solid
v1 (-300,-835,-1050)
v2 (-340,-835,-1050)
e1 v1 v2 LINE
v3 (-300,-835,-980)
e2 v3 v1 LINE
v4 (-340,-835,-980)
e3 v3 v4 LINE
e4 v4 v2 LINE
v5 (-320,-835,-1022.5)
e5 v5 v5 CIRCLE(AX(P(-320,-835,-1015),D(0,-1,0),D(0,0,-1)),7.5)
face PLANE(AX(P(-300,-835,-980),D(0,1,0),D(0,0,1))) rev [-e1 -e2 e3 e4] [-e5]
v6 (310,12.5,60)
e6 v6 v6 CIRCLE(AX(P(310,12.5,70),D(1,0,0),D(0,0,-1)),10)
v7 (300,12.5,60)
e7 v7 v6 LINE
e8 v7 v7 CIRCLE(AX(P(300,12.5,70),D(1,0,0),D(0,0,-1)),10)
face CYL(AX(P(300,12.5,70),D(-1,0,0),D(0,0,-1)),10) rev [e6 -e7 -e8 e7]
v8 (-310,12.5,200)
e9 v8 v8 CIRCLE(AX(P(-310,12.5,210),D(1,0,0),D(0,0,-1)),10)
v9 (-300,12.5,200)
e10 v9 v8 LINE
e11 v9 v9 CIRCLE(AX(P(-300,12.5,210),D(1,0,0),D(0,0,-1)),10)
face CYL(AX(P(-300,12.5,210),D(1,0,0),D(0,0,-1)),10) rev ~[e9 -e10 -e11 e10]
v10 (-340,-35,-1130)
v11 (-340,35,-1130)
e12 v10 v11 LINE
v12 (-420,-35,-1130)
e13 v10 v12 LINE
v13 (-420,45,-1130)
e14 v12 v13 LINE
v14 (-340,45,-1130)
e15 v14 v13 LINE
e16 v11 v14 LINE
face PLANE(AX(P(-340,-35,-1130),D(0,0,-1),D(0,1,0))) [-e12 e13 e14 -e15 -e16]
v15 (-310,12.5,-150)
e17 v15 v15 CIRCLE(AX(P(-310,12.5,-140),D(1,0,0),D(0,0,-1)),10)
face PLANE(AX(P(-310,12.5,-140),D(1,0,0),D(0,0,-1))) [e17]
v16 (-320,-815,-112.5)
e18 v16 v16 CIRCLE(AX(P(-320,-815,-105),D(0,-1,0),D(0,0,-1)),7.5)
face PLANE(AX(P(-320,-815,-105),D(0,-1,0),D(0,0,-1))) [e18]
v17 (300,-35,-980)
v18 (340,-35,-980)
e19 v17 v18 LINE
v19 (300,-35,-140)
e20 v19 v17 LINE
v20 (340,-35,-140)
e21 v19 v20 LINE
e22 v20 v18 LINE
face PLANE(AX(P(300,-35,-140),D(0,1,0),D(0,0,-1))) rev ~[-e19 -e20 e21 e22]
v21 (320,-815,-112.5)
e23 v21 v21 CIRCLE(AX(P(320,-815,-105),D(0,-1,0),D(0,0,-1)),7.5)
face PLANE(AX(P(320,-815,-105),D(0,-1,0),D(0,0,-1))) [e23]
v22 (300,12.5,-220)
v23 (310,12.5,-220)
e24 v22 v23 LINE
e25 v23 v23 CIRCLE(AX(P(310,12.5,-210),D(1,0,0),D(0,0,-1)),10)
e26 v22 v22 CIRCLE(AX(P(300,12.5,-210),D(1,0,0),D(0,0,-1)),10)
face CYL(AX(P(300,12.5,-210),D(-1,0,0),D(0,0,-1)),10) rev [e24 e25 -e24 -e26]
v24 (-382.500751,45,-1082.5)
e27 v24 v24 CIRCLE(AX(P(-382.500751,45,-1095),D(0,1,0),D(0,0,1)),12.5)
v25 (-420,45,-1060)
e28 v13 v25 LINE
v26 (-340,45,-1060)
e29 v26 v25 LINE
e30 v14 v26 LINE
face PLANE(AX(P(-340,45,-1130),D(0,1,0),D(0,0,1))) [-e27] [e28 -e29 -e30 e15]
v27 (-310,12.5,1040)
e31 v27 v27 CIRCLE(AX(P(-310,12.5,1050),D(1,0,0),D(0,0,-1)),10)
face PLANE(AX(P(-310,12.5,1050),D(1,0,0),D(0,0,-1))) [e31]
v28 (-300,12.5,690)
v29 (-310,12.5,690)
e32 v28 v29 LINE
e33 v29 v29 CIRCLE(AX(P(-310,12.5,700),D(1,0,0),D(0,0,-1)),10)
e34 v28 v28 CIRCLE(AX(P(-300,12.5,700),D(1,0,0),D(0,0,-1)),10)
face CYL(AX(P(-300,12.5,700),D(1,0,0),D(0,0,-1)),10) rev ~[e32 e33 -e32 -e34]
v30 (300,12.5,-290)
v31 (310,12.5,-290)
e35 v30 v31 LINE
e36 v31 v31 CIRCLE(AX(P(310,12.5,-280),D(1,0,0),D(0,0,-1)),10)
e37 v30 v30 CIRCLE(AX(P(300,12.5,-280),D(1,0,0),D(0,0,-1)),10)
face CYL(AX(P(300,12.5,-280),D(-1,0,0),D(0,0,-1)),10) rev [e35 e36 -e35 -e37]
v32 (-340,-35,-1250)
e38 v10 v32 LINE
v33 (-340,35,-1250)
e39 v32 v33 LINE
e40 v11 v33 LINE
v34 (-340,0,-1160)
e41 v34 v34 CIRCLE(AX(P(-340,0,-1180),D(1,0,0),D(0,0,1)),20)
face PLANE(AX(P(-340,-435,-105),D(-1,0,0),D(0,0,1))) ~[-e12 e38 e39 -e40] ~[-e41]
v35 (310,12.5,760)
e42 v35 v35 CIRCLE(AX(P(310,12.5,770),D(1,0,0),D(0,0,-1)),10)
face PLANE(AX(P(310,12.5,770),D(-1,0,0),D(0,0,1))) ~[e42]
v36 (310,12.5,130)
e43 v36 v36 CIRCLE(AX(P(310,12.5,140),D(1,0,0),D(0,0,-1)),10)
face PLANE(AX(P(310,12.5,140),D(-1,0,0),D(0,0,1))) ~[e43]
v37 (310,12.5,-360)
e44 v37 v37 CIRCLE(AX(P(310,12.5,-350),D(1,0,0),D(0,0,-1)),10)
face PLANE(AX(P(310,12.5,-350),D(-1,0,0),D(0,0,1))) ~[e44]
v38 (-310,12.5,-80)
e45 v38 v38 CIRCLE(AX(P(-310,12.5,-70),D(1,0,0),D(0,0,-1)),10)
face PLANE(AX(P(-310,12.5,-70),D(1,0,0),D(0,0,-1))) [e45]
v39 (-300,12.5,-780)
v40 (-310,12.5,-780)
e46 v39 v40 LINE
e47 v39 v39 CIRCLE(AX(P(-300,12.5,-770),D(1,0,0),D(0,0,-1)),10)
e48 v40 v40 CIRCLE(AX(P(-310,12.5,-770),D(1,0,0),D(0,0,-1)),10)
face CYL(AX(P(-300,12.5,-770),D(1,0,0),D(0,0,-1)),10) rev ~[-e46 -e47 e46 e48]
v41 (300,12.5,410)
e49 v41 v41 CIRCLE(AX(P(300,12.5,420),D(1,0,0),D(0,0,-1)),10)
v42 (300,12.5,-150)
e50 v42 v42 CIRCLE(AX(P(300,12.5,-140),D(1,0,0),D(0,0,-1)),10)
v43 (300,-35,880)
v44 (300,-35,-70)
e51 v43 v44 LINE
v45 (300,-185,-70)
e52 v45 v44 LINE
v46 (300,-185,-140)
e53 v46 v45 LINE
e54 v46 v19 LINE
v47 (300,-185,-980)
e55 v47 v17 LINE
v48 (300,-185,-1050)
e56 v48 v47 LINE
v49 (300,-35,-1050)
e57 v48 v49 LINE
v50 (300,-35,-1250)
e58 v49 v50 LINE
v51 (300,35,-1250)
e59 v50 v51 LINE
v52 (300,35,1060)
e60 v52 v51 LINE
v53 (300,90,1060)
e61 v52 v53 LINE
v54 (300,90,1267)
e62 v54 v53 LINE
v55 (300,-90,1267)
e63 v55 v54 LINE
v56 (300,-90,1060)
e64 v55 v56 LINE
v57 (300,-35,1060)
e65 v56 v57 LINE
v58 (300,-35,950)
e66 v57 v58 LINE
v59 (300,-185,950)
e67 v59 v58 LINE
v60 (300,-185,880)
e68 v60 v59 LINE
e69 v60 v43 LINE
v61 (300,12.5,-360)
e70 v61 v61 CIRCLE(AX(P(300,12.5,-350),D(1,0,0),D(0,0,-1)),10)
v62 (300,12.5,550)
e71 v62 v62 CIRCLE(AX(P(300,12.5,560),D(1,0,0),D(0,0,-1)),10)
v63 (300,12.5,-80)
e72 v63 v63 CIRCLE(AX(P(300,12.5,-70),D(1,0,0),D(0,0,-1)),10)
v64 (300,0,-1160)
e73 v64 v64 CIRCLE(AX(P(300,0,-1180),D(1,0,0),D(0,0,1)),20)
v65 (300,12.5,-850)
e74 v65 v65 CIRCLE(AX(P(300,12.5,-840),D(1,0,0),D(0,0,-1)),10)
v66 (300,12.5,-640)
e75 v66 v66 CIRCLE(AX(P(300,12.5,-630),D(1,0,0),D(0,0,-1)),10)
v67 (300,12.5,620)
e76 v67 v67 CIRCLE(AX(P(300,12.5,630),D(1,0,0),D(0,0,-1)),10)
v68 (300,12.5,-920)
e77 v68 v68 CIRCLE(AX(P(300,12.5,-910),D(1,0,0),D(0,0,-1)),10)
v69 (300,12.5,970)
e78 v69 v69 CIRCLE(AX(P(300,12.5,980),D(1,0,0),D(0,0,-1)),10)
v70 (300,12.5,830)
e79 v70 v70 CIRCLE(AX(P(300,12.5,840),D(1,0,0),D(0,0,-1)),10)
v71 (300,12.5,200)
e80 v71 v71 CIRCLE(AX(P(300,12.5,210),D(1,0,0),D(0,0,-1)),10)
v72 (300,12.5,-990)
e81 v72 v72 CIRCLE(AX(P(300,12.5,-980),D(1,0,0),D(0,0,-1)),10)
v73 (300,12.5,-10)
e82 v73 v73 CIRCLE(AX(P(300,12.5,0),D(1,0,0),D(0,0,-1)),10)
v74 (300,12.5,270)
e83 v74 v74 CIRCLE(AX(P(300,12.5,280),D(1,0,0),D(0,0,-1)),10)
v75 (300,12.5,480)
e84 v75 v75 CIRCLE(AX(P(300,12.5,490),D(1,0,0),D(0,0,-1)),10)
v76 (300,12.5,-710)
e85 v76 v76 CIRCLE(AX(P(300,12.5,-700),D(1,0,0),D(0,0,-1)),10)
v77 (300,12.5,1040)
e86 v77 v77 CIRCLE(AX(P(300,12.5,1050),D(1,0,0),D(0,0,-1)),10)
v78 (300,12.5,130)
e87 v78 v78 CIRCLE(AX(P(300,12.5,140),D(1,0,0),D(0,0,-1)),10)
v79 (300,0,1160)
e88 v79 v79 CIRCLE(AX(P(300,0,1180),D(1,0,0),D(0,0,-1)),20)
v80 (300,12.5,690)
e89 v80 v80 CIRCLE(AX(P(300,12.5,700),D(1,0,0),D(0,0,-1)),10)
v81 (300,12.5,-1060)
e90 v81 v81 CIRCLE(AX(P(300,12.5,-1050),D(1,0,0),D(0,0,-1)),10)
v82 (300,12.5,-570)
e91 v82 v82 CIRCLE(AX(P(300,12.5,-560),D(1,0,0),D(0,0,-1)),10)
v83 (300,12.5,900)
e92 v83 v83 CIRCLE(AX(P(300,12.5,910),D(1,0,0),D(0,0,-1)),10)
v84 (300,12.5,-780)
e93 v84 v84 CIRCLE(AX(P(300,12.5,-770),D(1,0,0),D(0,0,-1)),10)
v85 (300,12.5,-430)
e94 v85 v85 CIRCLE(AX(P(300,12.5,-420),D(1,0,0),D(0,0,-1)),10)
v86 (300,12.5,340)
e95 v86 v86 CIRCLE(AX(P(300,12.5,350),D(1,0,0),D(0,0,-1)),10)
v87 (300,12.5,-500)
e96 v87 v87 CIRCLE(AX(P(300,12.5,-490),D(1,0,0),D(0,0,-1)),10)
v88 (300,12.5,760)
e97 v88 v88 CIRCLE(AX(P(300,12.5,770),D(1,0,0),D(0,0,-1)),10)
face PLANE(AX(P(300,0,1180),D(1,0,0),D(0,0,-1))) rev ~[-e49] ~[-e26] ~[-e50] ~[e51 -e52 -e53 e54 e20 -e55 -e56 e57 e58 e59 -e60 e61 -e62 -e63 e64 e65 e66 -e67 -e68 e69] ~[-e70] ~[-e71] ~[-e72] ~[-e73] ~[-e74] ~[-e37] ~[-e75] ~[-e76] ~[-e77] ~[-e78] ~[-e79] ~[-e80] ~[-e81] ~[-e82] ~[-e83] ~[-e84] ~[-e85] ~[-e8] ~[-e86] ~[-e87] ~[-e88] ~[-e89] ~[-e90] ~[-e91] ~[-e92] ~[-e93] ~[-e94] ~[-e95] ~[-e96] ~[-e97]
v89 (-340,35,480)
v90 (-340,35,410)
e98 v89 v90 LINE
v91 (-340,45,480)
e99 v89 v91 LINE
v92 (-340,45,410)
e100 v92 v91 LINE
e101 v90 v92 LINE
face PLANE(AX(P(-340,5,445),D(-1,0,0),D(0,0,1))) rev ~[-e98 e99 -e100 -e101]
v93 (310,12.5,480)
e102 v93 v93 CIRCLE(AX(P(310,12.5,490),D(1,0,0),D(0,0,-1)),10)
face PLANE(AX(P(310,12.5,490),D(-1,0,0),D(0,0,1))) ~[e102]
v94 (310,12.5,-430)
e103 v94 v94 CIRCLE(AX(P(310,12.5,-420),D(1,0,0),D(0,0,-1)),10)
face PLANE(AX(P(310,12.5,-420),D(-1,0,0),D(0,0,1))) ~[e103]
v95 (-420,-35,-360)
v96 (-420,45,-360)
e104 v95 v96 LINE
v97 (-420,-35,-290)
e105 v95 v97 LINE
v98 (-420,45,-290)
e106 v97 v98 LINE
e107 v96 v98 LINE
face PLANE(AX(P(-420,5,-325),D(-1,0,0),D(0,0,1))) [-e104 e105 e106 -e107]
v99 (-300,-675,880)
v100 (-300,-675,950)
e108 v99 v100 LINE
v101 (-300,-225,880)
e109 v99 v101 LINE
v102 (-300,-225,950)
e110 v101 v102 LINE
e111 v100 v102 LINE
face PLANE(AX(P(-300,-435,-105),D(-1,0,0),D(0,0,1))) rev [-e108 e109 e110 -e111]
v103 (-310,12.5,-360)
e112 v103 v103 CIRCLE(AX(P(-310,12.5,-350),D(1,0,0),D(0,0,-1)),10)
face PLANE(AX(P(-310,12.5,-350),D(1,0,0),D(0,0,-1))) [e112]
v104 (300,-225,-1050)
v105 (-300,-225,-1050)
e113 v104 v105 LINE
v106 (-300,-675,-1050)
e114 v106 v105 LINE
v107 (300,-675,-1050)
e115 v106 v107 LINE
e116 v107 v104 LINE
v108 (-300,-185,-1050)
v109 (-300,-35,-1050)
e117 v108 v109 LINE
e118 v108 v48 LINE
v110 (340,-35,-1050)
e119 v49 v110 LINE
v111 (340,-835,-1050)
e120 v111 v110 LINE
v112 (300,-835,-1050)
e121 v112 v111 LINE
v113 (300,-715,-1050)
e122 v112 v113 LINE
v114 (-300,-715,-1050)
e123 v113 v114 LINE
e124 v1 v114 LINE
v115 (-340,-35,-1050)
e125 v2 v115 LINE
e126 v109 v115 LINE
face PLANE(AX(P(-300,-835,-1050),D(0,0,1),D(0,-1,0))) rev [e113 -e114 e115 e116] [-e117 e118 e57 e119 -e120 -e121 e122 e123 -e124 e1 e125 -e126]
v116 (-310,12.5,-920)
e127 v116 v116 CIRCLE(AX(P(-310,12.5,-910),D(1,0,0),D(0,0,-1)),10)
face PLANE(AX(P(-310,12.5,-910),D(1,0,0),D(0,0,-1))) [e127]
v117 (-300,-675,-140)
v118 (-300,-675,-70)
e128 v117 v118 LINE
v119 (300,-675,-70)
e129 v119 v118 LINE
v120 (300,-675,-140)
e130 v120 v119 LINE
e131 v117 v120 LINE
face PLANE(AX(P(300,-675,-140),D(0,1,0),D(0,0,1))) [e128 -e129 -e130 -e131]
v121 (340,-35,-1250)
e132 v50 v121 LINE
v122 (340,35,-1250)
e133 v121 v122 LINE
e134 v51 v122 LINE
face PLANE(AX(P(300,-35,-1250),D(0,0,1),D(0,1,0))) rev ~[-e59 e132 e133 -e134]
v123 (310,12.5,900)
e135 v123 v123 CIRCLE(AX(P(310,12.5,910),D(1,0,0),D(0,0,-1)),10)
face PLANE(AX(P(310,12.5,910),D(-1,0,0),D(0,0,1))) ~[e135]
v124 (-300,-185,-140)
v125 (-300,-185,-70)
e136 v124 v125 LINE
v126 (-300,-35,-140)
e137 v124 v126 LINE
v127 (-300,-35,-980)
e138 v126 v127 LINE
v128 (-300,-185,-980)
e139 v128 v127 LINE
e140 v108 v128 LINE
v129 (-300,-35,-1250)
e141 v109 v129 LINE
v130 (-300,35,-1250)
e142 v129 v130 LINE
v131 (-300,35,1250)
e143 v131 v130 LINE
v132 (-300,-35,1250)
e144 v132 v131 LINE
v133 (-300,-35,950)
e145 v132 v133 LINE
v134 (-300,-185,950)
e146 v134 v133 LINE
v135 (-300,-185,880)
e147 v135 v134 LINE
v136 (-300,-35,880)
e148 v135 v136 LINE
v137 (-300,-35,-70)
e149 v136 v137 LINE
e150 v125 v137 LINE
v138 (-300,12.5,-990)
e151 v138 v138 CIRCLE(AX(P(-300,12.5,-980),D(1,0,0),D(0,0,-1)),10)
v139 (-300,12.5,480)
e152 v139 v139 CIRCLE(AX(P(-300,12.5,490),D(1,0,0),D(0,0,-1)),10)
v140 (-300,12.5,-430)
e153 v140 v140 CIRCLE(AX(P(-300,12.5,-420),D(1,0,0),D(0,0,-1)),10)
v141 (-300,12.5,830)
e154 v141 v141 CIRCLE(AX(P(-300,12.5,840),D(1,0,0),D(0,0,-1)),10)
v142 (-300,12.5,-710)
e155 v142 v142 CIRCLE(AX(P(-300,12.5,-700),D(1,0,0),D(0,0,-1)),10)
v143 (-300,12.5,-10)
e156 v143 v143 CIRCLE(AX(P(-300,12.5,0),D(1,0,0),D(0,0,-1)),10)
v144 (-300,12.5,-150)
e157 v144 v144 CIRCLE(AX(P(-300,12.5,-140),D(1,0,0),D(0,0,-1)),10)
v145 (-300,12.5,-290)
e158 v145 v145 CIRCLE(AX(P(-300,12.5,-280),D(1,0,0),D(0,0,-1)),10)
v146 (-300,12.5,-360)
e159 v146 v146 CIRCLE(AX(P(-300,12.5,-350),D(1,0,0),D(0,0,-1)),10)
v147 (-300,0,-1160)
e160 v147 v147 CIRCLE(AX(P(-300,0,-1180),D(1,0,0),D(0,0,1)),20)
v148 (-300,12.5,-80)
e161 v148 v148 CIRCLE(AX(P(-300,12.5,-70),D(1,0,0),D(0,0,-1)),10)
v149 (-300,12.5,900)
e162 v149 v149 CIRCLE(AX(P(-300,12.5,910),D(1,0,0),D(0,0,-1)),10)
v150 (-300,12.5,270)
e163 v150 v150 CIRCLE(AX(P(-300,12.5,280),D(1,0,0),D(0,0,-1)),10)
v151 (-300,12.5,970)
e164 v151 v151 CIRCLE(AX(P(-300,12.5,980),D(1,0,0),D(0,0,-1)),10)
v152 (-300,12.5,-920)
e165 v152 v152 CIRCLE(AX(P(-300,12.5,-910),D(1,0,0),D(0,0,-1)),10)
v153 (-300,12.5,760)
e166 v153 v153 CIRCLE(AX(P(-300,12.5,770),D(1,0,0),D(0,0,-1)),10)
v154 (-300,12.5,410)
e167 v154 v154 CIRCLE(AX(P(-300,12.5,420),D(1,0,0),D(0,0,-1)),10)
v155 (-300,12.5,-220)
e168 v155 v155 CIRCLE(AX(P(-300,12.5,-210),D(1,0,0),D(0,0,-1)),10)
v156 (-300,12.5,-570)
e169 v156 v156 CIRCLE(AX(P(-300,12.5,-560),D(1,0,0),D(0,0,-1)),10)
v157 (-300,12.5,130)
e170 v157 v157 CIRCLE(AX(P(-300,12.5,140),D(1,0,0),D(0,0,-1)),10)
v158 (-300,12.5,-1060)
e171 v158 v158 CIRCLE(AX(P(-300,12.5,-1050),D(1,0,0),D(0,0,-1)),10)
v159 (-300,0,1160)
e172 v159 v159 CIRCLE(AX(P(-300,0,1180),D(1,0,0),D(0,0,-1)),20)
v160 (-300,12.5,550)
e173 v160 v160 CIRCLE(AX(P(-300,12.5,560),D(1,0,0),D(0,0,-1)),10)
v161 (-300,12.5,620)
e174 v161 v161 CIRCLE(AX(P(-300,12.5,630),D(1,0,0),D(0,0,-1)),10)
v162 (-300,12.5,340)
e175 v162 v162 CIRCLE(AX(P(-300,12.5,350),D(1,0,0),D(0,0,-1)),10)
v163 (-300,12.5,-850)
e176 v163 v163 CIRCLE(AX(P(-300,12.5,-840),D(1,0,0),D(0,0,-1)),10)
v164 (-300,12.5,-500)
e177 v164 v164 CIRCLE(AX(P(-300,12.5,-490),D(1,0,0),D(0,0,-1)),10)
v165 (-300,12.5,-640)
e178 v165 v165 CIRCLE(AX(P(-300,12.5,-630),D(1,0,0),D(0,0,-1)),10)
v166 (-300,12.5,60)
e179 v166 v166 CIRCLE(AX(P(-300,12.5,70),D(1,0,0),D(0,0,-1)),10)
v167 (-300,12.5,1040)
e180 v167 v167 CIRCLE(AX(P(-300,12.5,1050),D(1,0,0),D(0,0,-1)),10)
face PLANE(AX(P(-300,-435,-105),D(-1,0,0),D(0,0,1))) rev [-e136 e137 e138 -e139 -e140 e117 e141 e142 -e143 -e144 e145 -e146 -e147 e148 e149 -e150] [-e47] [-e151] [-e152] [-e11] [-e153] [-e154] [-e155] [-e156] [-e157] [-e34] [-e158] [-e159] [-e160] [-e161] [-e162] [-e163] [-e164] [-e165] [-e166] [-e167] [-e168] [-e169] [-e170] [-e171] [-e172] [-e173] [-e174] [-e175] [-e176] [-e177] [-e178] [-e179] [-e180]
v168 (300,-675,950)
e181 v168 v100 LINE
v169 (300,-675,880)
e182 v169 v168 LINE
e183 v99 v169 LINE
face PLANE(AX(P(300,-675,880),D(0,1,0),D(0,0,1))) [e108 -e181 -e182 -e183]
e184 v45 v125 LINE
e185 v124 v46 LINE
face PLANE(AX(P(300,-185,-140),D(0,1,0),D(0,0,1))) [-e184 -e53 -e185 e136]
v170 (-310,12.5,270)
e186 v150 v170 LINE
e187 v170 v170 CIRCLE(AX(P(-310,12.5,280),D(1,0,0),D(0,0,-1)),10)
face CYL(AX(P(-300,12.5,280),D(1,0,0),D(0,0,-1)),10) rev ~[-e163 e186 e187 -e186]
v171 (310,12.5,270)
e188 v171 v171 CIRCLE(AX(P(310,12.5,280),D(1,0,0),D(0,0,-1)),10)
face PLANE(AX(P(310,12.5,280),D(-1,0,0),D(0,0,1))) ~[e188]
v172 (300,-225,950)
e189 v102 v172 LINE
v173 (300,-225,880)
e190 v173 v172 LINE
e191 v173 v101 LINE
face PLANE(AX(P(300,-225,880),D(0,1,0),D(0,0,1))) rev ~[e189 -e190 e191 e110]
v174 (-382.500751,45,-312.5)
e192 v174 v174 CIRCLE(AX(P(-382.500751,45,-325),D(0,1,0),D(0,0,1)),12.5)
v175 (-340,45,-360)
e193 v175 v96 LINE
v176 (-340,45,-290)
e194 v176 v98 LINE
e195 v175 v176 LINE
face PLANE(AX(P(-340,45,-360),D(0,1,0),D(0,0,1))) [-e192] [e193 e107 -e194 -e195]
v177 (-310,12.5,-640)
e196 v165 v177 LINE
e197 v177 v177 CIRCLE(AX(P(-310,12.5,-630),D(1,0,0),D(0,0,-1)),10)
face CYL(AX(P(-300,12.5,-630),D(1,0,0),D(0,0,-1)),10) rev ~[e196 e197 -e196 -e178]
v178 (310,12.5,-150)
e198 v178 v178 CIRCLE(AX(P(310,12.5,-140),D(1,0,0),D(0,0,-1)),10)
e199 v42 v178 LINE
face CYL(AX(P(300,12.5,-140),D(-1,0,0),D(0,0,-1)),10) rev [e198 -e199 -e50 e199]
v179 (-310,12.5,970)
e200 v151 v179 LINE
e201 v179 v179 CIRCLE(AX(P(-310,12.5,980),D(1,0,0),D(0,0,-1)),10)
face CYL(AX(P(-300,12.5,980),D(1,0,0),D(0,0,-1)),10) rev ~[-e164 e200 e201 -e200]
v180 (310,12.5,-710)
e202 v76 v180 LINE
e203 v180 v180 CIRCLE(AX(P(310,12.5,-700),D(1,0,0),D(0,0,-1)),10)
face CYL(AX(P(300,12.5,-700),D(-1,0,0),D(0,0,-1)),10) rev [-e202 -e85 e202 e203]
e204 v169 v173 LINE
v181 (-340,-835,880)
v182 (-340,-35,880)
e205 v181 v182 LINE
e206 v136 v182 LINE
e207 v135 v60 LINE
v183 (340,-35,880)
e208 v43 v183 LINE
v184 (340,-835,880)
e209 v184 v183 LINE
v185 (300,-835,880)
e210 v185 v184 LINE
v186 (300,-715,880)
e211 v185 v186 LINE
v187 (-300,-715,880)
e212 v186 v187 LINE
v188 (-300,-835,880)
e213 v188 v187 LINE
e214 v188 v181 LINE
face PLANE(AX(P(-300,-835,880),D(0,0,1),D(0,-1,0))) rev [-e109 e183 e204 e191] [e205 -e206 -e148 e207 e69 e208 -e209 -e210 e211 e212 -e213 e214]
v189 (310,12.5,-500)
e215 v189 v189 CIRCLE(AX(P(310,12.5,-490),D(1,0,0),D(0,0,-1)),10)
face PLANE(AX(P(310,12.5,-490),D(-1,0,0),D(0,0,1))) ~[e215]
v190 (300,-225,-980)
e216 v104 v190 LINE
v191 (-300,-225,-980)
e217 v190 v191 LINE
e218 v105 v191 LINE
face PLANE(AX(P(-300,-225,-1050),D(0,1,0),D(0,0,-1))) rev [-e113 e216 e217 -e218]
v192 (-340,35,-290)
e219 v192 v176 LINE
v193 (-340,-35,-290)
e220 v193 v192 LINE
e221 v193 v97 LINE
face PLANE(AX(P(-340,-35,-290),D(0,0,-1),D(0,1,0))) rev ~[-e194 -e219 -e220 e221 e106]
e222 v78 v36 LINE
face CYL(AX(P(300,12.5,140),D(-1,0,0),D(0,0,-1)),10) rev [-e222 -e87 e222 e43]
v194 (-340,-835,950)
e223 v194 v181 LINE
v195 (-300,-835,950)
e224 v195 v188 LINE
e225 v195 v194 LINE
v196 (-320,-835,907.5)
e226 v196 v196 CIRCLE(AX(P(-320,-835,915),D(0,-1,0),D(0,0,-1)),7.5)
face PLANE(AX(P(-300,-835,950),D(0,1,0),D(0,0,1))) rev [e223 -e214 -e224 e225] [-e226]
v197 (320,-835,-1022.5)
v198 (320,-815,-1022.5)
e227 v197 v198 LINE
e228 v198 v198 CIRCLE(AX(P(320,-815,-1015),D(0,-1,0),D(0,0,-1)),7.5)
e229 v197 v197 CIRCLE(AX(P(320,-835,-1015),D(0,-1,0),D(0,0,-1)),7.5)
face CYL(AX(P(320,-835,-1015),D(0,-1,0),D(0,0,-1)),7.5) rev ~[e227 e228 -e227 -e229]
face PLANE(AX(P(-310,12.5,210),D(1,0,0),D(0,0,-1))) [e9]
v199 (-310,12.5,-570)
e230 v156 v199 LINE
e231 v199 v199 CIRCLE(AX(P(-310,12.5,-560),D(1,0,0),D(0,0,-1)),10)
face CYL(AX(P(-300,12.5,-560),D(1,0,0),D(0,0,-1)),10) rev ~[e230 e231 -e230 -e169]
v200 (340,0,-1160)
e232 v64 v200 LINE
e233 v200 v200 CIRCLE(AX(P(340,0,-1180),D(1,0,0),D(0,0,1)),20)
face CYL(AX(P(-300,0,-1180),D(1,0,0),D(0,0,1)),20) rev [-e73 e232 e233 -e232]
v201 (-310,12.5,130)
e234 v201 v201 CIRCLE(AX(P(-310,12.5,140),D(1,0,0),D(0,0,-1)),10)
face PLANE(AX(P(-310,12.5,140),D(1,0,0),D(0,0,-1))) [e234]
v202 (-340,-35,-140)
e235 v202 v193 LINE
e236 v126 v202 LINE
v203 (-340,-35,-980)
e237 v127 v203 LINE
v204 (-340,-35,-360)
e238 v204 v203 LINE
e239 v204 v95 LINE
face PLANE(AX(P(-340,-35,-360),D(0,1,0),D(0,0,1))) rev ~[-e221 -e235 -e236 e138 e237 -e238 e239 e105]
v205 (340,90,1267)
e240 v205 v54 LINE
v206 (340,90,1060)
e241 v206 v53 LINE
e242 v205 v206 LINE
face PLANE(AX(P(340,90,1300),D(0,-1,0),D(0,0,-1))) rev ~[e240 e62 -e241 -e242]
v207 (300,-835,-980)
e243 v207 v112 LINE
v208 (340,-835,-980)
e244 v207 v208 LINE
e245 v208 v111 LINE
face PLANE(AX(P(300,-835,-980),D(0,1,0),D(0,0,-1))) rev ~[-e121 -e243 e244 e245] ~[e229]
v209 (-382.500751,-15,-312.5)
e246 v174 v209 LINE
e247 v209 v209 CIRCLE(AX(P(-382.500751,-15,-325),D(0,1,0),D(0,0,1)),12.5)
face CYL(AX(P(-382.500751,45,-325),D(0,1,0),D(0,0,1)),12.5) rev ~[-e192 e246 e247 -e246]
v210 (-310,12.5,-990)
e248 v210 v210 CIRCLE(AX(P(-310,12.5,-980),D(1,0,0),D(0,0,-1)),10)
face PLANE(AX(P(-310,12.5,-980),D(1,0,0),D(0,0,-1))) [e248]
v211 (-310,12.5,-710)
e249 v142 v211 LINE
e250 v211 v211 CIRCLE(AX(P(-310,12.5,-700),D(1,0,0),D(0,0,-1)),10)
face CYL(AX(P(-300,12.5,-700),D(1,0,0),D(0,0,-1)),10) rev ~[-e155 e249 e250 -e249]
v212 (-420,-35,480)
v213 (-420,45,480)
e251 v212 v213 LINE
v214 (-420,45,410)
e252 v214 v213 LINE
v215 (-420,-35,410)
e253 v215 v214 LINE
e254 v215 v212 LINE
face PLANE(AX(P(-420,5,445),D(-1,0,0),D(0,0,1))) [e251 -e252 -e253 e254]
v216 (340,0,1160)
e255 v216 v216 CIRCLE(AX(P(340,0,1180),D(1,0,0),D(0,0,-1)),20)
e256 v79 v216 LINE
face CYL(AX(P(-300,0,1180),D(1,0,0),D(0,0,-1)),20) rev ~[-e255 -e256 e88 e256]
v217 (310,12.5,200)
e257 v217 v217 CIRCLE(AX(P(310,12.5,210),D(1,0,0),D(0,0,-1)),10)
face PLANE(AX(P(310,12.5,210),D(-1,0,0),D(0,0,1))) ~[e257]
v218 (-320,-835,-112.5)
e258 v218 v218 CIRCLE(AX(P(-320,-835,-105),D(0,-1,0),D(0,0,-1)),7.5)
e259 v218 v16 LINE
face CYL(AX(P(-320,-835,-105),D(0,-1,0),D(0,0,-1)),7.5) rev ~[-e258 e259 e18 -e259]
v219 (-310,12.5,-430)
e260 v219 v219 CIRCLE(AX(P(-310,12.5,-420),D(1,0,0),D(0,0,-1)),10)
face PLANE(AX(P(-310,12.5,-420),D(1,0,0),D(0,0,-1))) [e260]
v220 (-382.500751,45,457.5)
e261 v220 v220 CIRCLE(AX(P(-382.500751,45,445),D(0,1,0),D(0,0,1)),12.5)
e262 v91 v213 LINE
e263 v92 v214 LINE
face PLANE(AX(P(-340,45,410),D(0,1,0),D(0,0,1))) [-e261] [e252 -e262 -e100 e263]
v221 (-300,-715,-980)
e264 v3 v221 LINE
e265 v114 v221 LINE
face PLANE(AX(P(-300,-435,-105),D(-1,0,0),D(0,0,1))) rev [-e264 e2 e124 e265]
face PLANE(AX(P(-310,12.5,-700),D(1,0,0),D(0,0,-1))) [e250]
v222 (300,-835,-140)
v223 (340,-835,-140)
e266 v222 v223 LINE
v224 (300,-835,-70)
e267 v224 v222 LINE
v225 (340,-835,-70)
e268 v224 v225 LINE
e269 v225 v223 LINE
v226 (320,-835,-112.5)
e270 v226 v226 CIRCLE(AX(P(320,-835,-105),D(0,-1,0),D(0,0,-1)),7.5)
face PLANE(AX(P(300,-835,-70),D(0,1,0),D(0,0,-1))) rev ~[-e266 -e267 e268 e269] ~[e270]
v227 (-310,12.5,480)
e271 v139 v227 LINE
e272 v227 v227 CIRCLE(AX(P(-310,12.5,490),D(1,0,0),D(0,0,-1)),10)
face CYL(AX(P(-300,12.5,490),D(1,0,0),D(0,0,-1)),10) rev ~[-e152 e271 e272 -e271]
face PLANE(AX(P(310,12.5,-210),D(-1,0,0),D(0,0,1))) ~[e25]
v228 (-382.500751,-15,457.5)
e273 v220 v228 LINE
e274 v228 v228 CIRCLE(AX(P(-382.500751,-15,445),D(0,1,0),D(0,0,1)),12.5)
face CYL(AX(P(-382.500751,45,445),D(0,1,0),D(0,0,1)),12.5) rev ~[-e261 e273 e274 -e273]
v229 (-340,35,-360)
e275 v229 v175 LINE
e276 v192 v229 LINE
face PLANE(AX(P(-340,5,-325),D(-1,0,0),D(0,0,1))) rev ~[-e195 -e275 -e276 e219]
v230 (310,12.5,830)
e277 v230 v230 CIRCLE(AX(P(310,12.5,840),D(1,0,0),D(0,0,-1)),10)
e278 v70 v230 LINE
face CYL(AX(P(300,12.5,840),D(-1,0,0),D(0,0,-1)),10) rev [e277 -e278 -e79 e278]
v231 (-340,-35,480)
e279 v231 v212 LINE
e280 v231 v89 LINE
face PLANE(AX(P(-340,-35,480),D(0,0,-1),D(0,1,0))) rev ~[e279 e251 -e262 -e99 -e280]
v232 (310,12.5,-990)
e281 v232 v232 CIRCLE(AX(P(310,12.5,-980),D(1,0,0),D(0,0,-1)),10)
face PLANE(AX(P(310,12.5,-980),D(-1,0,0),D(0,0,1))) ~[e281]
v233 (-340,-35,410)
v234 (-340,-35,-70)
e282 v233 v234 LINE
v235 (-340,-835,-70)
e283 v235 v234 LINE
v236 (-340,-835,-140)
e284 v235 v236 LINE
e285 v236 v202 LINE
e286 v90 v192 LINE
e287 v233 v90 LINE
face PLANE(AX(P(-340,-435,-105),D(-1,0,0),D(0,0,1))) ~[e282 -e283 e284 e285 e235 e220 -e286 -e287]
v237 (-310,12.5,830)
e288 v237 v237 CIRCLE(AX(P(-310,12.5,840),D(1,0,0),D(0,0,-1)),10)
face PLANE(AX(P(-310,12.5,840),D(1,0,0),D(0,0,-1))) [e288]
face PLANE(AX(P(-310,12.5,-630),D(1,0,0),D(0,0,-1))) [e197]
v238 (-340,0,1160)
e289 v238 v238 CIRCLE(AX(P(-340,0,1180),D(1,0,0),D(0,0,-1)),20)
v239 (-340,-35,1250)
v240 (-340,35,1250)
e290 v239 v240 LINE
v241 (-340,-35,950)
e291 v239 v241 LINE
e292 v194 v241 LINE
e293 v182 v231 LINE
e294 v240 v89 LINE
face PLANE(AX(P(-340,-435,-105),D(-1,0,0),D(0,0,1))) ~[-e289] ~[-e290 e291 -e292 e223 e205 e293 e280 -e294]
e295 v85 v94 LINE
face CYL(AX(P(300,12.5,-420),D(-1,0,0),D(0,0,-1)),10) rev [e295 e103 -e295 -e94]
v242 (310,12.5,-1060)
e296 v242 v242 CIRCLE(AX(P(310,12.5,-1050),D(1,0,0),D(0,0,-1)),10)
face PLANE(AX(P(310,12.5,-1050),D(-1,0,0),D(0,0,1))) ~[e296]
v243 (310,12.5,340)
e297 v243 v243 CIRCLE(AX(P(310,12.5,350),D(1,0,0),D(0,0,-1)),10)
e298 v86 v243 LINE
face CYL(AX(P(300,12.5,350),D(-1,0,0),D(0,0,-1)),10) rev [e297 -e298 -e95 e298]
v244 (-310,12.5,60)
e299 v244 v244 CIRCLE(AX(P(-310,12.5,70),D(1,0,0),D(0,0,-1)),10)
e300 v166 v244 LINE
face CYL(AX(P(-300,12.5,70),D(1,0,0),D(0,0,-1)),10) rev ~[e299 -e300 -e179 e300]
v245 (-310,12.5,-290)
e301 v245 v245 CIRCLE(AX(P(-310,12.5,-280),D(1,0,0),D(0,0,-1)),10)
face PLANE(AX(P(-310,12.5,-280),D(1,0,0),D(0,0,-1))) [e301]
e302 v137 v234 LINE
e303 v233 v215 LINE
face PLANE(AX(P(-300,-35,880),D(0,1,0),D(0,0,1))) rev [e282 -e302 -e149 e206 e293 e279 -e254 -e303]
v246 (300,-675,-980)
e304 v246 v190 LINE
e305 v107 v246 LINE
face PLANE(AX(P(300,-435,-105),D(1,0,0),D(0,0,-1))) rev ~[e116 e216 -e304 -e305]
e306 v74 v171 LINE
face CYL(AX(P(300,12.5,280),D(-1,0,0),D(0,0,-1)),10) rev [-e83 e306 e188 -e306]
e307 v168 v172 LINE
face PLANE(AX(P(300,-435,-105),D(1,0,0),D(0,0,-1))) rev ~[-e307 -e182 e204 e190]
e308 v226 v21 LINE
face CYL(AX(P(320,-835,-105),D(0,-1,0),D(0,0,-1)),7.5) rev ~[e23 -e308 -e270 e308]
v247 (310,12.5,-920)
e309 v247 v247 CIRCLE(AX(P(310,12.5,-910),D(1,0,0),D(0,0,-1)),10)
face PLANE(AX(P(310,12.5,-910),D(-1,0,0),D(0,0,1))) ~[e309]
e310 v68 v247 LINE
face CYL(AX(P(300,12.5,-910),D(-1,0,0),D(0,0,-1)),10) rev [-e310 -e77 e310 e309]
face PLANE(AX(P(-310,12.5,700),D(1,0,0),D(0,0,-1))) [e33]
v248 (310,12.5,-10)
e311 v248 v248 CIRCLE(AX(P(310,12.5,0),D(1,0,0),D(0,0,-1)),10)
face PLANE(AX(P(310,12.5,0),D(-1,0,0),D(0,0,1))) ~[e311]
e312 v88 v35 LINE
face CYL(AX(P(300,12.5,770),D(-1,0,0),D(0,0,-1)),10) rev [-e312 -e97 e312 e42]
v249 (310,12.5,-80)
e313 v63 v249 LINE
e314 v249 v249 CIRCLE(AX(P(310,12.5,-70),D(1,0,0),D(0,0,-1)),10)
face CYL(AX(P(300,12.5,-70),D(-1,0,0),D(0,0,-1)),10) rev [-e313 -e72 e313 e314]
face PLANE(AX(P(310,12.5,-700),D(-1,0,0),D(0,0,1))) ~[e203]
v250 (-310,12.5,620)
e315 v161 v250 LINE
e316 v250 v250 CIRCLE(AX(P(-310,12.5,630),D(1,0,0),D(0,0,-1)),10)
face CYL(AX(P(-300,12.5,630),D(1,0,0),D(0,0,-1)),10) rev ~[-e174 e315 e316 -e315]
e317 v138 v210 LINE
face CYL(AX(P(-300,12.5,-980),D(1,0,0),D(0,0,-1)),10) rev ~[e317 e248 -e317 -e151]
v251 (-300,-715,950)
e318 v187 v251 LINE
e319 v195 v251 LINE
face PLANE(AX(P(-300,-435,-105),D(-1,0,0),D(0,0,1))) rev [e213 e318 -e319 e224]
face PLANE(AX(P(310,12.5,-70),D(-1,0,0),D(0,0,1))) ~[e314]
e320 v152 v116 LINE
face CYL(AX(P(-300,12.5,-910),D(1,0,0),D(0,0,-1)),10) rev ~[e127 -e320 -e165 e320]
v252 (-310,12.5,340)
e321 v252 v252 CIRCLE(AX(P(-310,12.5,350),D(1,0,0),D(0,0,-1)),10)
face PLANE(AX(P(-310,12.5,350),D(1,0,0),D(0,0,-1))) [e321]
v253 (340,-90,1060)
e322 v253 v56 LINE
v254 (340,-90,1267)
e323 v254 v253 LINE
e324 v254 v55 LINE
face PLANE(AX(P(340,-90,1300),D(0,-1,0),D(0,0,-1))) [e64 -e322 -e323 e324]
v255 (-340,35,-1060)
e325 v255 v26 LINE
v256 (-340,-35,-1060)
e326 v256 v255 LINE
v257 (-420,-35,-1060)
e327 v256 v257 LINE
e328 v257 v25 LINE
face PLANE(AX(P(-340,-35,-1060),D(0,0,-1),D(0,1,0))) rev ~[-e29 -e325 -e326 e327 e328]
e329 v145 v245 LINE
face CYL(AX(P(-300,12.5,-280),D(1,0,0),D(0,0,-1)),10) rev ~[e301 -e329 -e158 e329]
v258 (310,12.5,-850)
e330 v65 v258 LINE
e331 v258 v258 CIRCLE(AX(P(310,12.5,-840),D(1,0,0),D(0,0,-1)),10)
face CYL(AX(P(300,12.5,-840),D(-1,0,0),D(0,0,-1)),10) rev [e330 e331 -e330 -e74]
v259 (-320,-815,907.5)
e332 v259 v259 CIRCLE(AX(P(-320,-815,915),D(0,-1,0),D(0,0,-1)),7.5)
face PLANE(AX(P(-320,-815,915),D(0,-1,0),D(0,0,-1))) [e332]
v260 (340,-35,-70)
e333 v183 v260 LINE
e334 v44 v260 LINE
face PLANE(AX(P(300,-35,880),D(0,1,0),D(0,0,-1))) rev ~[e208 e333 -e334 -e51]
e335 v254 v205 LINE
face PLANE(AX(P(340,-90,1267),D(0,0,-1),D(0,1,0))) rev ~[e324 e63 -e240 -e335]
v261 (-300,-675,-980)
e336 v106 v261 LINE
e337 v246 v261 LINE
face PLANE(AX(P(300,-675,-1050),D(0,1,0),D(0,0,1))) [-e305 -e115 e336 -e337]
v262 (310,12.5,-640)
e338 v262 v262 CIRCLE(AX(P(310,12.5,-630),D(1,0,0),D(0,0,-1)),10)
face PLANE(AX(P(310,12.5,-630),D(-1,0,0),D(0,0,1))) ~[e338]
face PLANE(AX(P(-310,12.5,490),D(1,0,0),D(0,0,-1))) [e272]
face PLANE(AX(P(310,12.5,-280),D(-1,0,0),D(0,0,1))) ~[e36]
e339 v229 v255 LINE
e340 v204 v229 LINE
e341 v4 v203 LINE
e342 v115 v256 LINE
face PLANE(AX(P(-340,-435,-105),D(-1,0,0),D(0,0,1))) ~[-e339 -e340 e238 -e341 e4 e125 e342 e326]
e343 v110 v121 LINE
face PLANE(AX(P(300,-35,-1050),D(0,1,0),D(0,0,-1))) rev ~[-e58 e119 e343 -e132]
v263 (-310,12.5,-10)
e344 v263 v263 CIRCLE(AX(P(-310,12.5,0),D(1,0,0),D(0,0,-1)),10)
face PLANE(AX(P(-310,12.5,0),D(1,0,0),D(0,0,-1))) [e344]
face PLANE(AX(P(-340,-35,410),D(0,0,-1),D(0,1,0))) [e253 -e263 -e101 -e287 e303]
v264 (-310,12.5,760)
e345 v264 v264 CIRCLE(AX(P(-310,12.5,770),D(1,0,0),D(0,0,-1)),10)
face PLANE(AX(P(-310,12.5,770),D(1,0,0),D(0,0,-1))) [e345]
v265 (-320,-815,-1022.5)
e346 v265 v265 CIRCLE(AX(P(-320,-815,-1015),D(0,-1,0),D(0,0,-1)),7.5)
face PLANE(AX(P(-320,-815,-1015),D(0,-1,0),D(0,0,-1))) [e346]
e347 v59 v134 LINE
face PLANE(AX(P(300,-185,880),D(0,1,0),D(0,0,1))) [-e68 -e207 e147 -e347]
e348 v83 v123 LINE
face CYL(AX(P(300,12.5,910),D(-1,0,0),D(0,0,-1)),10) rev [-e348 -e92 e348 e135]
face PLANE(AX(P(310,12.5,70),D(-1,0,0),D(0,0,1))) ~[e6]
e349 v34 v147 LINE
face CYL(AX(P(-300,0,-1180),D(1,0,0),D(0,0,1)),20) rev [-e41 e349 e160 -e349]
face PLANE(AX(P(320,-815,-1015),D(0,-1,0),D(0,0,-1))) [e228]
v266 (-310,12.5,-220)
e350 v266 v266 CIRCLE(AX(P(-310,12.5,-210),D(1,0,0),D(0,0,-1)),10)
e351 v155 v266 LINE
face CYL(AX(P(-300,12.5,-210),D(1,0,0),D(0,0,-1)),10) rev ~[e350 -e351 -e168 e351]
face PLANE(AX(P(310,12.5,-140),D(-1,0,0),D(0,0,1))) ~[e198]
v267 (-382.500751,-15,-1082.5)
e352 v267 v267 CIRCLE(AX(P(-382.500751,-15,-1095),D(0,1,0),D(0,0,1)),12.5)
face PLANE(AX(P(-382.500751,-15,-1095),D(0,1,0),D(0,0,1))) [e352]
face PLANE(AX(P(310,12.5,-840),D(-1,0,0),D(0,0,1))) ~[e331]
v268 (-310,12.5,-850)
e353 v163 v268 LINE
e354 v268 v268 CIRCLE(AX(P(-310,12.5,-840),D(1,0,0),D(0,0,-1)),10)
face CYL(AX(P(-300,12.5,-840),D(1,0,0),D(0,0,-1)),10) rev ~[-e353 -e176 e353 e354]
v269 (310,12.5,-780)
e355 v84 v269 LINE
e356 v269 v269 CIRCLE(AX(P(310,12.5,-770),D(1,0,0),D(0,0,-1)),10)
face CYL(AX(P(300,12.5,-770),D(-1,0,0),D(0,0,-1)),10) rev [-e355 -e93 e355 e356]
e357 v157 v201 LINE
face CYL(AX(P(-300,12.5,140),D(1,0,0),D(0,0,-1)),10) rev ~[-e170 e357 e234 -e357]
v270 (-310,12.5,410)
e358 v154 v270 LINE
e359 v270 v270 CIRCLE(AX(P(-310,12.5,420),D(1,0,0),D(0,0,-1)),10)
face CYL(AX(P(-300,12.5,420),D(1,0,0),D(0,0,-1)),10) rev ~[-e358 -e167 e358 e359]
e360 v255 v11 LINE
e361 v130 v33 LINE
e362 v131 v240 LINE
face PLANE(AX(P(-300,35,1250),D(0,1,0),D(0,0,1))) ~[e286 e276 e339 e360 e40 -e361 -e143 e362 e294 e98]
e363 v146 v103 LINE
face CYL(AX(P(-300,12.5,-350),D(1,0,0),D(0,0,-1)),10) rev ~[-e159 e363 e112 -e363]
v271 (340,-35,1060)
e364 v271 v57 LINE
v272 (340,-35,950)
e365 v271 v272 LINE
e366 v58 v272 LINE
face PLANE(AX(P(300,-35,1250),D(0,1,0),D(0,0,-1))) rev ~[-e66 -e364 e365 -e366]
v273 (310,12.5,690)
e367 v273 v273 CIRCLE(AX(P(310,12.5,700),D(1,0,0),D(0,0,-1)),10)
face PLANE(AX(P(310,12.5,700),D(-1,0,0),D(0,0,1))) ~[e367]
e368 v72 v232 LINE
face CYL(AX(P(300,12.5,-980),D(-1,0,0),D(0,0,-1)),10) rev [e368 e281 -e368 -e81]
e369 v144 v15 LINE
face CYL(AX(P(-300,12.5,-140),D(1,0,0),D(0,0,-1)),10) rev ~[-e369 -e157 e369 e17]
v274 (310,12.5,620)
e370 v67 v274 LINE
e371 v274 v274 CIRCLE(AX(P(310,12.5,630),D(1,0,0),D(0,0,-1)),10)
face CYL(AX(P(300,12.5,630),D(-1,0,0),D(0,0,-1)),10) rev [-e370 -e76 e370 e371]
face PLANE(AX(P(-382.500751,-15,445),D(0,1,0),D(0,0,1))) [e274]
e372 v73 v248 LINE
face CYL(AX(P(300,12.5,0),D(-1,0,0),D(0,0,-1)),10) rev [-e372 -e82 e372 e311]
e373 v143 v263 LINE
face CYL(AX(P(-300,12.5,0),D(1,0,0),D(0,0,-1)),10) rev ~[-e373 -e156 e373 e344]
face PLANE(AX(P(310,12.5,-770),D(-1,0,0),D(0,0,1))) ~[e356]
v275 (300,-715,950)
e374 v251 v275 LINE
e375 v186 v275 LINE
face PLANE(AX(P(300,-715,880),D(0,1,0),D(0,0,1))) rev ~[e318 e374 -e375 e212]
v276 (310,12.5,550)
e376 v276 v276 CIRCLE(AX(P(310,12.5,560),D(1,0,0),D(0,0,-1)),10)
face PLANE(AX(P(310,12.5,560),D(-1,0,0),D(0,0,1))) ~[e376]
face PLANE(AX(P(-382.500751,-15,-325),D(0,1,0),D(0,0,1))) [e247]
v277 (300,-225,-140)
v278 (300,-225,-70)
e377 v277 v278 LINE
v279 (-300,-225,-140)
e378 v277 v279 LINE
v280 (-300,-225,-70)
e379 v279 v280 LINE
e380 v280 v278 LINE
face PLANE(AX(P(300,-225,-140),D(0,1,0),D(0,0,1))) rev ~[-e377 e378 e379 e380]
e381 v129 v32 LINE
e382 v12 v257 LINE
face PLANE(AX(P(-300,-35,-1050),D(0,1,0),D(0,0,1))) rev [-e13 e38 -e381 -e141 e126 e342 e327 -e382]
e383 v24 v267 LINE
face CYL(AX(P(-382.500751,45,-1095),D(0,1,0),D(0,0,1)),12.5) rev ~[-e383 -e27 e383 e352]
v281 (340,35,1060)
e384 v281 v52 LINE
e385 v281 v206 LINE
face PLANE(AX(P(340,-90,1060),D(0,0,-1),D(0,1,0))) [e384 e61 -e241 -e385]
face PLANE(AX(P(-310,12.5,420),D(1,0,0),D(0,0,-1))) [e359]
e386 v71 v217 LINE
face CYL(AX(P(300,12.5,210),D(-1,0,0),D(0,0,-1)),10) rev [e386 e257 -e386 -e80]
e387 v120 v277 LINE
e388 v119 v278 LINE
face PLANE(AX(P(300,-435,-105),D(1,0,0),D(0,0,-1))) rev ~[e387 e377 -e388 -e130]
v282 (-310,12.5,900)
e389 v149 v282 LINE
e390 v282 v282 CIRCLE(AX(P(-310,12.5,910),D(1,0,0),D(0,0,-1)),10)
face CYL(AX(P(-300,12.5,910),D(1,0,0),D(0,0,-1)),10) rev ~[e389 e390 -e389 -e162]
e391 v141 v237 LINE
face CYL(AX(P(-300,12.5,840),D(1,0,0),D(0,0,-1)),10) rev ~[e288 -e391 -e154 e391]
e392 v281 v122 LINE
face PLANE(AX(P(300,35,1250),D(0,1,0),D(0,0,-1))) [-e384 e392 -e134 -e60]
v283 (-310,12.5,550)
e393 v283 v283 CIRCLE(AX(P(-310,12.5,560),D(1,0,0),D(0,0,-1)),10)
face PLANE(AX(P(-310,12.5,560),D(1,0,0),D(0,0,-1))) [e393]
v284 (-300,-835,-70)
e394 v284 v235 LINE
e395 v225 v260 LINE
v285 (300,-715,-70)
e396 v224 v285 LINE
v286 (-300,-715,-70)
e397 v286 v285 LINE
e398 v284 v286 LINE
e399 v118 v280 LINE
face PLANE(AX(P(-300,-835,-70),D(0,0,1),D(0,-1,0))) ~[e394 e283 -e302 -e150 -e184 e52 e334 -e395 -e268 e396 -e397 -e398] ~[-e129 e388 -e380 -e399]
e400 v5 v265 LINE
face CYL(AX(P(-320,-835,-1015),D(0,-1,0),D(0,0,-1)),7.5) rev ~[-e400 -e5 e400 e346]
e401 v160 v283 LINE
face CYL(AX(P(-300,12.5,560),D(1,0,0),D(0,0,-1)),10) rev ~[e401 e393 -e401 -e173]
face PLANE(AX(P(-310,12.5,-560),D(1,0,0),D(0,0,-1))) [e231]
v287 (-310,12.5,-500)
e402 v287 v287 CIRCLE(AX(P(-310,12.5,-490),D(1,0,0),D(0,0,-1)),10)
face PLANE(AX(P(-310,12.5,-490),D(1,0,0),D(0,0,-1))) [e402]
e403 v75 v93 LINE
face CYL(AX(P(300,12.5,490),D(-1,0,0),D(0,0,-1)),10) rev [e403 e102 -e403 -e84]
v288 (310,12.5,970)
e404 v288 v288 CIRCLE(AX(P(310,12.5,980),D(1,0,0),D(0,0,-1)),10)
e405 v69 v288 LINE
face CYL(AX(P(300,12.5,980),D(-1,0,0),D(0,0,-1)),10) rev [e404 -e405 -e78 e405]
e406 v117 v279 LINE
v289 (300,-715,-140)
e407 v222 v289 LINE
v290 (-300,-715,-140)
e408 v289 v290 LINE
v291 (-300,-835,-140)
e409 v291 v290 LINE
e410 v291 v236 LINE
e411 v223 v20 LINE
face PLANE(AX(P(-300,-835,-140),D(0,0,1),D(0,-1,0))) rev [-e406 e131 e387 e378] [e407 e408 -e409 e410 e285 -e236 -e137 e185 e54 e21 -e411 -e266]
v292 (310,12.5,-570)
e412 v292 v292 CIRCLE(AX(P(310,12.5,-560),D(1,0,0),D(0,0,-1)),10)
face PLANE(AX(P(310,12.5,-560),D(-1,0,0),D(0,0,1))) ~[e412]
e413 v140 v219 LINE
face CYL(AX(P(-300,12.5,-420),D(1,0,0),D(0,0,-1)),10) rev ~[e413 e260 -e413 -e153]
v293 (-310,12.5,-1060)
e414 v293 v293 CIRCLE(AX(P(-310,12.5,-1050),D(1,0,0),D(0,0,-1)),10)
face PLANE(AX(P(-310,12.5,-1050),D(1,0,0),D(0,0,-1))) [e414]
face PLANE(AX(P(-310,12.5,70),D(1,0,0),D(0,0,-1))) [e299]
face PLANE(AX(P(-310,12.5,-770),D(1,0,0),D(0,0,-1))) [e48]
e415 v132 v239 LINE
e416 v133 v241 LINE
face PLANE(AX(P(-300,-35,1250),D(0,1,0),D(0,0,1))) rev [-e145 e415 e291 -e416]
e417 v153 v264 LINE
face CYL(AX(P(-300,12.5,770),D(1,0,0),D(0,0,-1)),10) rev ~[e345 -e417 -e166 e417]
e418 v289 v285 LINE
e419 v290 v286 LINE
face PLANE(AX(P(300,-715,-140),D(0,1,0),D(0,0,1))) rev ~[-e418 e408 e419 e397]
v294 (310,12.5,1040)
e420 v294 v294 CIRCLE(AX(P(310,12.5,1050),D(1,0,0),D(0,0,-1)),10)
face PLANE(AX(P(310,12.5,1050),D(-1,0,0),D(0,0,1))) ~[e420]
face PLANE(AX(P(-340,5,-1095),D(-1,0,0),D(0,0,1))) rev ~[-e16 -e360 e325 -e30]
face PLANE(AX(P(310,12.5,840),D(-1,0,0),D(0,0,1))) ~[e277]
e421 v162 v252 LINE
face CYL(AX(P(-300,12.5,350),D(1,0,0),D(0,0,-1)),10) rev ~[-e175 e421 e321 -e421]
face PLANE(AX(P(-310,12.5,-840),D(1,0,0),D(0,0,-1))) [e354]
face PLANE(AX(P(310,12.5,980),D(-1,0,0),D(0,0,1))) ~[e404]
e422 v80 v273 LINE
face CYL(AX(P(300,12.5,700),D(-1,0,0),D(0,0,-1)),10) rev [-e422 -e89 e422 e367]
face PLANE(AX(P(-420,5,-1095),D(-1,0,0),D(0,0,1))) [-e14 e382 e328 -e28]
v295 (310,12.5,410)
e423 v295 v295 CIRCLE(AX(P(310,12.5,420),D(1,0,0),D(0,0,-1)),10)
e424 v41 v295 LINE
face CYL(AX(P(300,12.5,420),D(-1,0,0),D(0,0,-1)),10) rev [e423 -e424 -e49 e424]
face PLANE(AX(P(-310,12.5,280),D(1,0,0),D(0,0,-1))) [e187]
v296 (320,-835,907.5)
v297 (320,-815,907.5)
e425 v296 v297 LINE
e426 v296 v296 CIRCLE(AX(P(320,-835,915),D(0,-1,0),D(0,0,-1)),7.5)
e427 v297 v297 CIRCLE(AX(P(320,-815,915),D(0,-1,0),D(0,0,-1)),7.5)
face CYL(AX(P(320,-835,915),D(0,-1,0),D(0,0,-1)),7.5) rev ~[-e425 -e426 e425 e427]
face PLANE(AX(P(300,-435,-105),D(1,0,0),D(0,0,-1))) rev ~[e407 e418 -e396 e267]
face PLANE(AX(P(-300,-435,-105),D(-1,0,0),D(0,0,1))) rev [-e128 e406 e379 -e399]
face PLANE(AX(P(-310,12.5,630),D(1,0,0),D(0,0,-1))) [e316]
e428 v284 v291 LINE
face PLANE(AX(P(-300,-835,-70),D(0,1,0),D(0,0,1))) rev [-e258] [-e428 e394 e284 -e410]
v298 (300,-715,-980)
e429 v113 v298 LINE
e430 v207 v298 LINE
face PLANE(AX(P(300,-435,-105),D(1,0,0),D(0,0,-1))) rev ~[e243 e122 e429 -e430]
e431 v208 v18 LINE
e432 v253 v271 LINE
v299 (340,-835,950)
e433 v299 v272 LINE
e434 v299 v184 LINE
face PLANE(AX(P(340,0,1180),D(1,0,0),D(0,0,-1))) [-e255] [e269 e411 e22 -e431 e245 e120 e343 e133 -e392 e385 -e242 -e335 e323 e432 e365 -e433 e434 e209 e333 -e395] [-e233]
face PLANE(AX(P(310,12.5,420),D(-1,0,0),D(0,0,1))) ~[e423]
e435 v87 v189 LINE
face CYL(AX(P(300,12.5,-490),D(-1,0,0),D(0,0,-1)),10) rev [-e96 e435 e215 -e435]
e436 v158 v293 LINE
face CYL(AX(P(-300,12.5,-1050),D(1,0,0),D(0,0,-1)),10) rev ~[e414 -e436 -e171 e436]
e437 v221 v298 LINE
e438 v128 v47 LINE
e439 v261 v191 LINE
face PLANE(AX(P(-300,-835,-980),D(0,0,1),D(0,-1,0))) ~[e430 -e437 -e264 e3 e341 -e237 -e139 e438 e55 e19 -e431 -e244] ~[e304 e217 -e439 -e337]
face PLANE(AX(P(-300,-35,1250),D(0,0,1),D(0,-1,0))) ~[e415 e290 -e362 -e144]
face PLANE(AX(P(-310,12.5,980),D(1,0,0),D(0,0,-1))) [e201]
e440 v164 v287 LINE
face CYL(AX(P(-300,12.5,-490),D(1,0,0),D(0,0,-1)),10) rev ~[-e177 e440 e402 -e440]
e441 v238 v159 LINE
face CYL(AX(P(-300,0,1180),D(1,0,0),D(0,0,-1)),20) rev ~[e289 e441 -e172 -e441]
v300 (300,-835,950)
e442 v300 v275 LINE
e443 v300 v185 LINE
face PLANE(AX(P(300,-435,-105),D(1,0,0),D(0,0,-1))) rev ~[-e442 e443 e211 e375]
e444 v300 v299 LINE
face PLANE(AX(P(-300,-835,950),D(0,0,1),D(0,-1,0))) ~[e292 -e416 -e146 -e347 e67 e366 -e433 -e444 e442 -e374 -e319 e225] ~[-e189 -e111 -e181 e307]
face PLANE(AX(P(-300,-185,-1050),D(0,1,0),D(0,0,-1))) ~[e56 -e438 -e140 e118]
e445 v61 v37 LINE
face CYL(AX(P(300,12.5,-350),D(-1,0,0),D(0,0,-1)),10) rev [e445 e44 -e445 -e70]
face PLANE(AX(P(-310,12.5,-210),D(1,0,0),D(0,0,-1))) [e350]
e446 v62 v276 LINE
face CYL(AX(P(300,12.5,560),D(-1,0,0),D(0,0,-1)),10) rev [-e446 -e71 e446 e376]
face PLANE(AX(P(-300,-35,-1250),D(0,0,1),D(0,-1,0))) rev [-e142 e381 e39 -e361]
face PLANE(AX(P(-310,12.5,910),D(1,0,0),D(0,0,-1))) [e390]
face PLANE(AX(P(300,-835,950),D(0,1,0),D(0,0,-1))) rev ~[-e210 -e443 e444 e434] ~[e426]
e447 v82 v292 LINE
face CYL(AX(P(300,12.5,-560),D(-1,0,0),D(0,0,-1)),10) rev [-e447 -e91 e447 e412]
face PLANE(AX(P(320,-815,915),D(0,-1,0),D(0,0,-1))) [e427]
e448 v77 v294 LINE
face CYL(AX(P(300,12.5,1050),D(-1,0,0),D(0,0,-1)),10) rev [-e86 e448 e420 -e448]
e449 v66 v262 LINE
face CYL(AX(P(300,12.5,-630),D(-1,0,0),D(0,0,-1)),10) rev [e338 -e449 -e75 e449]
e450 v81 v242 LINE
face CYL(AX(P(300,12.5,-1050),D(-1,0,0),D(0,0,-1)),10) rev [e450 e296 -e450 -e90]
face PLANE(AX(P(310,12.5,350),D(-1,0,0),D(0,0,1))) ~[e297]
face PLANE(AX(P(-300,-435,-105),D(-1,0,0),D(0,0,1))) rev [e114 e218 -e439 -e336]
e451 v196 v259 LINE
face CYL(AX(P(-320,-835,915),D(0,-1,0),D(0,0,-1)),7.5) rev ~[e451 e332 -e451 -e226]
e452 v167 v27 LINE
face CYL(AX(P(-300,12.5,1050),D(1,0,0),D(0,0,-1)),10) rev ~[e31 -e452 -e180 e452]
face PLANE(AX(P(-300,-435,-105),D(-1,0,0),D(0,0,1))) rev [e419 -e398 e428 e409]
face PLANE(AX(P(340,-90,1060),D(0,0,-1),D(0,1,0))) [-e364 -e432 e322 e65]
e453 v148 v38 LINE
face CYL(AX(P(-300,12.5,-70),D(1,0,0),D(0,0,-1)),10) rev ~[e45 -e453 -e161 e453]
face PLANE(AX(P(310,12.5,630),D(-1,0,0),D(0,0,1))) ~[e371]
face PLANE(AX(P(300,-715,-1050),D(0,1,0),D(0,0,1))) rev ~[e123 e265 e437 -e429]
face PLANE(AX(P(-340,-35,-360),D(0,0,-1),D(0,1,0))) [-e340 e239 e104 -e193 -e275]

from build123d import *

# Parameters (mm, degrees)
SKETCH3_W           = 70
SKETCH3_H           = 800
SKETCH3_W_2         = 2500
SKETCH3_H_2         = 70
BOSS_EXTRUDE1_DEPTH = 40
SKETCH4_W           = 70
SKETCH4_H           = 40
BOSS_EXTRUDE2_DEPTH = 300
SKETCH5_R           = 10
CUT_EXTRUDE1_DEPTH  = 10
SKETCH6_R           = 20
CUT_EXTRUDE2_DEPTH  = 1634.806904135
SKETCH7_R           = 7.5
CUT_EXTRUDE3_DEPTH  = 20
SKETCH8_W           = 70
SKETCH8_H           = 80
BOSS_EXTRUDE3_DEPTH = 80
SKETCH10_R          = 12.5
CUT_EXTRUDE4_DEPTH  = 60
SKETCH11_W          = 240
SKETCH11_H          = 180
SKETCH11_R          = 20
BOSS_EXTRUDE4_DEPTH = 40
SKETCH12_W          = 33
SKETCH12_H          = 180
CUT_EXTRUDE5_DEPTH  = 1722.866719581


with BuildPart() as part:
    # Sketch3 → Boss-Extrude1 (new body)
    with BuildSketch(Plane(origin=(300, 0, 0), x_dir=(0, 0, -1), z_dir=(1, 0, 0))):
        with Locations((105, -435)):
            Rectangle(SKETCH3_W, SKETCH3_H)
        Rectangle(SKETCH3_W_2, SKETCH3_H_2)
        with Locations((-915, -435)):
            Rectangle(SKETCH3_W, SKETCH3_H)
        with Locations((1015, -435)):
            Rectangle(SKETCH3_W, SKETCH3_H)
    boss_extrude1 = extrude(amount=BOSS_EXTRUDE1_DEPTH)

    # Sketch4 → Boss-Extrude2 (add)
    with BuildSketch(Plane.ZY.offset(-300)):
        with Locations((-1015, -205)):
            Rectangle(SKETCH4_W, SKETCH4_H)
        with Locations((-105, -205)):
            Rectangle(SKETCH4_W, SKETCH4_H)
        with Locations((915, -205)):
            Rectangle(SKETCH4_W, SKETCH4_H)
        with Locations((-1015, -695)):
            Rectangle(SKETCH4_W, SKETCH4_H)
        with Locations((-105, -695)):
            Rectangle(SKETCH4_W, SKETCH4_H)
        with Locations((915, -695)):
            Rectangle(SKETCH4_W, SKETCH4_H)
    boss_extrude2 = extrude(amount=BOSS_EXTRUDE2_DEPTH)

    # Mirror2: Boss-Extrude2 across plane
    add(boss_extrude2.mirror(Plane(origin=(0, 0, 0), x_dir=(0, 0, 1), z_dir=(1, 0, 0))))

    # Mirror3: Boss-Extrude1 across plane
    add(boss_extrude1.mirror(Plane(origin=(0, 0, 0), x_dir=(0, 0, 1), z_dir=(1, 0, 0))))

    # Sketch5 → Cut-Extrude1 (cut)
    with BuildSketch(Plane(origin=(-300, 0, 0), x_dir=(0, 0, -1), z_dir=(1, 0, 0))):
        with Locations((-1050, 12.5)):
            Circle(SKETCH5_R)
        with Locations((-980, 12.5)):
            Circle(SKETCH5_R)
        with Locations((-910, 12.5)):
            Circle(SKETCH5_R)
        with Locations((-840, 12.5)):
            Circle(SKETCH5_R)
        with Locations((-770, 12.5)):
            Circle(SKETCH5_R)
        with Locations((-700, 12.5)):
            Circle(SKETCH5_R)
        with Locations((-630, 12.5)):
            Circle(SKETCH5_R)
        with Locations((-560, 12.5)):
            Circle(SKETCH5_R)
        with Locations((-490, 12.5)):
            Circle(SKETCH5_R)
        with Locations((-420, 12.5)):
            Circle(SKETCH5_R)
        with Locations((-350, 12.5)):
            Circle(SKETCH5_R)
        with Locations((-280, 12.5)):
            Circle(SKETCH5_R)
        with Locations((-210, 12.5)):
            Circle(SKETCH5_R)
        with Locations((-140, 12.5)):
            Circle(SKETCH5_R)
        with Locations((-70, 12.5)):
            Circle(SKETCH5_R)
        with Locations((0, 12.5)):
            Circle(SKETCH5_R)
        with Locations((70, 12.5)):
            Circle(SKETCH5_R)
        with Locations((140, 12.5)):
            Circle(SKETCH5_R)
        with Locations((210, 12.5)):
            Circle(SKETCH5_R)
        with Locations((280, 12.5)):
            Circle(SKETCH5_R)
        with Locations((350, 12.5)):
            Circle(SKETCH5_R)
        with Locations((420, 12.5)):
            Circle(SKETCH5_R)
        with Locations((490, 12.5)):
            Circle(SKETCH5_R)
        with Locations((560, 12.5)):
            Circle(SKETCH5_R)
        with Locations((630, 12.5)):
            Circle(SKETCH5_R)
        with Locations((700, 12.5)):
            Circle(SKETCH5_R)
        with Locations((770, 12.5)):
            Circle(SKETCH5_R)
        with Locations((840, 12.5)):
            Circle(SKETCH5_R)
        with Locations((910, 12.5)):
            Circle(SKETCH5_R)
        with Locations((980, 12.5)):
            Circle(SKETCH5_R)
        with Locations((1050, 12.5)):
            Circle(SKETCH5_R)
    cut_extrude1 = extrude(amount=-CUT_EXTRUDE1_DEPTH, mode=Mode.SUBTRACT)

    # Mirror4: Cut-Extrude1 across plane
    add(cut_extrude1.mirror(Plane(origin=(0, 0, 0), x_dir=(0, 0, 1), z_dir=(1, 0, 0))), mode=Mode.SUBTRACT)

    # Sketch6 → Cut-Extrude2 (cut, symmetric)
    with BuildSketch(Plane(origin=(-300, 0, 0), x_dir=(0, 0, -1), z_dir=(1, 0, 0))):
        with Locations((-1180, 0)):
            Circle(SKETCH6_R)
    cut_extrude2 = extrude(amount=CUT_EXTRUDE2_DEPTH, both=True, mode=Mode.SUBTRACT)

    # Sketch7 → Cut-Extrude3 (cut)
    with BuildSketch(Plane.XZ.offset(835)):
        with Locations(Location((-320, 915, 0), (0, 0, 270))):
            Circle(SKETCH7_R)
        with Locations(Location((320, 915, 0), (0, 0, 270))):
            Circle(SKETCH7_R)
        with Locations(Location((320, -105, 0), (0, 0, 270))):
            Circle(SKETCH7_R)
        with Locations(Location((-320, -105, 0), (0, 0, 270))):
            Circle(SKETCH7_R)
        with Locations(Location((320, -1015, 0), (0, 0, 270))):
            Circle(SKETCH7_R)
        with Locations(Location((-320, -1015, 0), (0, 0, 270))):
            Circle(SKETCH7_R)
    extrude(amount=-CUT_EXTRUDE3_DEPTH, mode=Mode.SUBTRACT)

    # Mirror5: Cut-Extrude2 across plane
    add(cut_extrude2.mirror(Plane.XY), mode=Mode.SUBTRACT)

    # Sketch8 → Boss-Extrude3 (add)
    with BuildSketch(Plane.ZY.offset(340)):
        with Locations((-325, 5)):
            Rectangle(SKETCH8_W, SKETCH8_H)
        with Locations((445, 5)):
            Rectangle(SKETCH8_W, SKETCH8_H)
        with Locations((-1095, 5)):
            Rectangle(SKETCH8_W, SKETCH8_H)
    extrude(amount=BOSS_EXTRUDE3_DEPTH)

    # Sketch10 → Cut-Extrude4 (cut)
    with BuildSketch(Plane(origin=(0, 45, 0), x_dir=(1, 0, 0), z_dir=(0, 1, 0))):
        with Locations(Location((-382.500751055, 1095, 0), (0, 0, 270))):
            Circle(SKETCH10_R)
        with Locations(Location((-382.500751055, 325, 0), (0, 0, 270))):
            Circle(SKETCH10_R)
        with Locations(Location((-382.500751055, -445, 0), (0, 0, 270))):
            Circle(SKETCH10_R)
    extrude(amount=-CUT_EXTRUDE4_DEPTH, mode=Mode.SUBTRACT)

    # Sketch11 → Boss-Extrude4 (add)
    with BuildSketch(Plane(origin=(340, 0, 0), x_dir=(0, 0, -1), z_dir=(1, 0, 0))):
        with Locations((-1180, 0)):
            Rectangle(SKETCH11_W, SKETCH11_H)
        with Locations((-1180, 0)):
            Circle(SKETCH11_R, mode=Mode.SUBTRACT)
    extrude(amount=-BOSS_EXTRUDE4_DEPTH)

    # Sketch12 → Cut-Extrude5 (cut, through all)
    with BuildSketch(Plane(origin=(340, 0, 0), x_dir=(0, 0, -1), z_dir=(1, 0, 0))):
        with Locations((-1283.5, 0)):
            Rectangle(SKETCH12_W, SKETCH12_H)
    extrude(amount=-CUT_EXTRUDE5_DEPTH, mode=Mode.SUBTRACT)


solid = part.part
